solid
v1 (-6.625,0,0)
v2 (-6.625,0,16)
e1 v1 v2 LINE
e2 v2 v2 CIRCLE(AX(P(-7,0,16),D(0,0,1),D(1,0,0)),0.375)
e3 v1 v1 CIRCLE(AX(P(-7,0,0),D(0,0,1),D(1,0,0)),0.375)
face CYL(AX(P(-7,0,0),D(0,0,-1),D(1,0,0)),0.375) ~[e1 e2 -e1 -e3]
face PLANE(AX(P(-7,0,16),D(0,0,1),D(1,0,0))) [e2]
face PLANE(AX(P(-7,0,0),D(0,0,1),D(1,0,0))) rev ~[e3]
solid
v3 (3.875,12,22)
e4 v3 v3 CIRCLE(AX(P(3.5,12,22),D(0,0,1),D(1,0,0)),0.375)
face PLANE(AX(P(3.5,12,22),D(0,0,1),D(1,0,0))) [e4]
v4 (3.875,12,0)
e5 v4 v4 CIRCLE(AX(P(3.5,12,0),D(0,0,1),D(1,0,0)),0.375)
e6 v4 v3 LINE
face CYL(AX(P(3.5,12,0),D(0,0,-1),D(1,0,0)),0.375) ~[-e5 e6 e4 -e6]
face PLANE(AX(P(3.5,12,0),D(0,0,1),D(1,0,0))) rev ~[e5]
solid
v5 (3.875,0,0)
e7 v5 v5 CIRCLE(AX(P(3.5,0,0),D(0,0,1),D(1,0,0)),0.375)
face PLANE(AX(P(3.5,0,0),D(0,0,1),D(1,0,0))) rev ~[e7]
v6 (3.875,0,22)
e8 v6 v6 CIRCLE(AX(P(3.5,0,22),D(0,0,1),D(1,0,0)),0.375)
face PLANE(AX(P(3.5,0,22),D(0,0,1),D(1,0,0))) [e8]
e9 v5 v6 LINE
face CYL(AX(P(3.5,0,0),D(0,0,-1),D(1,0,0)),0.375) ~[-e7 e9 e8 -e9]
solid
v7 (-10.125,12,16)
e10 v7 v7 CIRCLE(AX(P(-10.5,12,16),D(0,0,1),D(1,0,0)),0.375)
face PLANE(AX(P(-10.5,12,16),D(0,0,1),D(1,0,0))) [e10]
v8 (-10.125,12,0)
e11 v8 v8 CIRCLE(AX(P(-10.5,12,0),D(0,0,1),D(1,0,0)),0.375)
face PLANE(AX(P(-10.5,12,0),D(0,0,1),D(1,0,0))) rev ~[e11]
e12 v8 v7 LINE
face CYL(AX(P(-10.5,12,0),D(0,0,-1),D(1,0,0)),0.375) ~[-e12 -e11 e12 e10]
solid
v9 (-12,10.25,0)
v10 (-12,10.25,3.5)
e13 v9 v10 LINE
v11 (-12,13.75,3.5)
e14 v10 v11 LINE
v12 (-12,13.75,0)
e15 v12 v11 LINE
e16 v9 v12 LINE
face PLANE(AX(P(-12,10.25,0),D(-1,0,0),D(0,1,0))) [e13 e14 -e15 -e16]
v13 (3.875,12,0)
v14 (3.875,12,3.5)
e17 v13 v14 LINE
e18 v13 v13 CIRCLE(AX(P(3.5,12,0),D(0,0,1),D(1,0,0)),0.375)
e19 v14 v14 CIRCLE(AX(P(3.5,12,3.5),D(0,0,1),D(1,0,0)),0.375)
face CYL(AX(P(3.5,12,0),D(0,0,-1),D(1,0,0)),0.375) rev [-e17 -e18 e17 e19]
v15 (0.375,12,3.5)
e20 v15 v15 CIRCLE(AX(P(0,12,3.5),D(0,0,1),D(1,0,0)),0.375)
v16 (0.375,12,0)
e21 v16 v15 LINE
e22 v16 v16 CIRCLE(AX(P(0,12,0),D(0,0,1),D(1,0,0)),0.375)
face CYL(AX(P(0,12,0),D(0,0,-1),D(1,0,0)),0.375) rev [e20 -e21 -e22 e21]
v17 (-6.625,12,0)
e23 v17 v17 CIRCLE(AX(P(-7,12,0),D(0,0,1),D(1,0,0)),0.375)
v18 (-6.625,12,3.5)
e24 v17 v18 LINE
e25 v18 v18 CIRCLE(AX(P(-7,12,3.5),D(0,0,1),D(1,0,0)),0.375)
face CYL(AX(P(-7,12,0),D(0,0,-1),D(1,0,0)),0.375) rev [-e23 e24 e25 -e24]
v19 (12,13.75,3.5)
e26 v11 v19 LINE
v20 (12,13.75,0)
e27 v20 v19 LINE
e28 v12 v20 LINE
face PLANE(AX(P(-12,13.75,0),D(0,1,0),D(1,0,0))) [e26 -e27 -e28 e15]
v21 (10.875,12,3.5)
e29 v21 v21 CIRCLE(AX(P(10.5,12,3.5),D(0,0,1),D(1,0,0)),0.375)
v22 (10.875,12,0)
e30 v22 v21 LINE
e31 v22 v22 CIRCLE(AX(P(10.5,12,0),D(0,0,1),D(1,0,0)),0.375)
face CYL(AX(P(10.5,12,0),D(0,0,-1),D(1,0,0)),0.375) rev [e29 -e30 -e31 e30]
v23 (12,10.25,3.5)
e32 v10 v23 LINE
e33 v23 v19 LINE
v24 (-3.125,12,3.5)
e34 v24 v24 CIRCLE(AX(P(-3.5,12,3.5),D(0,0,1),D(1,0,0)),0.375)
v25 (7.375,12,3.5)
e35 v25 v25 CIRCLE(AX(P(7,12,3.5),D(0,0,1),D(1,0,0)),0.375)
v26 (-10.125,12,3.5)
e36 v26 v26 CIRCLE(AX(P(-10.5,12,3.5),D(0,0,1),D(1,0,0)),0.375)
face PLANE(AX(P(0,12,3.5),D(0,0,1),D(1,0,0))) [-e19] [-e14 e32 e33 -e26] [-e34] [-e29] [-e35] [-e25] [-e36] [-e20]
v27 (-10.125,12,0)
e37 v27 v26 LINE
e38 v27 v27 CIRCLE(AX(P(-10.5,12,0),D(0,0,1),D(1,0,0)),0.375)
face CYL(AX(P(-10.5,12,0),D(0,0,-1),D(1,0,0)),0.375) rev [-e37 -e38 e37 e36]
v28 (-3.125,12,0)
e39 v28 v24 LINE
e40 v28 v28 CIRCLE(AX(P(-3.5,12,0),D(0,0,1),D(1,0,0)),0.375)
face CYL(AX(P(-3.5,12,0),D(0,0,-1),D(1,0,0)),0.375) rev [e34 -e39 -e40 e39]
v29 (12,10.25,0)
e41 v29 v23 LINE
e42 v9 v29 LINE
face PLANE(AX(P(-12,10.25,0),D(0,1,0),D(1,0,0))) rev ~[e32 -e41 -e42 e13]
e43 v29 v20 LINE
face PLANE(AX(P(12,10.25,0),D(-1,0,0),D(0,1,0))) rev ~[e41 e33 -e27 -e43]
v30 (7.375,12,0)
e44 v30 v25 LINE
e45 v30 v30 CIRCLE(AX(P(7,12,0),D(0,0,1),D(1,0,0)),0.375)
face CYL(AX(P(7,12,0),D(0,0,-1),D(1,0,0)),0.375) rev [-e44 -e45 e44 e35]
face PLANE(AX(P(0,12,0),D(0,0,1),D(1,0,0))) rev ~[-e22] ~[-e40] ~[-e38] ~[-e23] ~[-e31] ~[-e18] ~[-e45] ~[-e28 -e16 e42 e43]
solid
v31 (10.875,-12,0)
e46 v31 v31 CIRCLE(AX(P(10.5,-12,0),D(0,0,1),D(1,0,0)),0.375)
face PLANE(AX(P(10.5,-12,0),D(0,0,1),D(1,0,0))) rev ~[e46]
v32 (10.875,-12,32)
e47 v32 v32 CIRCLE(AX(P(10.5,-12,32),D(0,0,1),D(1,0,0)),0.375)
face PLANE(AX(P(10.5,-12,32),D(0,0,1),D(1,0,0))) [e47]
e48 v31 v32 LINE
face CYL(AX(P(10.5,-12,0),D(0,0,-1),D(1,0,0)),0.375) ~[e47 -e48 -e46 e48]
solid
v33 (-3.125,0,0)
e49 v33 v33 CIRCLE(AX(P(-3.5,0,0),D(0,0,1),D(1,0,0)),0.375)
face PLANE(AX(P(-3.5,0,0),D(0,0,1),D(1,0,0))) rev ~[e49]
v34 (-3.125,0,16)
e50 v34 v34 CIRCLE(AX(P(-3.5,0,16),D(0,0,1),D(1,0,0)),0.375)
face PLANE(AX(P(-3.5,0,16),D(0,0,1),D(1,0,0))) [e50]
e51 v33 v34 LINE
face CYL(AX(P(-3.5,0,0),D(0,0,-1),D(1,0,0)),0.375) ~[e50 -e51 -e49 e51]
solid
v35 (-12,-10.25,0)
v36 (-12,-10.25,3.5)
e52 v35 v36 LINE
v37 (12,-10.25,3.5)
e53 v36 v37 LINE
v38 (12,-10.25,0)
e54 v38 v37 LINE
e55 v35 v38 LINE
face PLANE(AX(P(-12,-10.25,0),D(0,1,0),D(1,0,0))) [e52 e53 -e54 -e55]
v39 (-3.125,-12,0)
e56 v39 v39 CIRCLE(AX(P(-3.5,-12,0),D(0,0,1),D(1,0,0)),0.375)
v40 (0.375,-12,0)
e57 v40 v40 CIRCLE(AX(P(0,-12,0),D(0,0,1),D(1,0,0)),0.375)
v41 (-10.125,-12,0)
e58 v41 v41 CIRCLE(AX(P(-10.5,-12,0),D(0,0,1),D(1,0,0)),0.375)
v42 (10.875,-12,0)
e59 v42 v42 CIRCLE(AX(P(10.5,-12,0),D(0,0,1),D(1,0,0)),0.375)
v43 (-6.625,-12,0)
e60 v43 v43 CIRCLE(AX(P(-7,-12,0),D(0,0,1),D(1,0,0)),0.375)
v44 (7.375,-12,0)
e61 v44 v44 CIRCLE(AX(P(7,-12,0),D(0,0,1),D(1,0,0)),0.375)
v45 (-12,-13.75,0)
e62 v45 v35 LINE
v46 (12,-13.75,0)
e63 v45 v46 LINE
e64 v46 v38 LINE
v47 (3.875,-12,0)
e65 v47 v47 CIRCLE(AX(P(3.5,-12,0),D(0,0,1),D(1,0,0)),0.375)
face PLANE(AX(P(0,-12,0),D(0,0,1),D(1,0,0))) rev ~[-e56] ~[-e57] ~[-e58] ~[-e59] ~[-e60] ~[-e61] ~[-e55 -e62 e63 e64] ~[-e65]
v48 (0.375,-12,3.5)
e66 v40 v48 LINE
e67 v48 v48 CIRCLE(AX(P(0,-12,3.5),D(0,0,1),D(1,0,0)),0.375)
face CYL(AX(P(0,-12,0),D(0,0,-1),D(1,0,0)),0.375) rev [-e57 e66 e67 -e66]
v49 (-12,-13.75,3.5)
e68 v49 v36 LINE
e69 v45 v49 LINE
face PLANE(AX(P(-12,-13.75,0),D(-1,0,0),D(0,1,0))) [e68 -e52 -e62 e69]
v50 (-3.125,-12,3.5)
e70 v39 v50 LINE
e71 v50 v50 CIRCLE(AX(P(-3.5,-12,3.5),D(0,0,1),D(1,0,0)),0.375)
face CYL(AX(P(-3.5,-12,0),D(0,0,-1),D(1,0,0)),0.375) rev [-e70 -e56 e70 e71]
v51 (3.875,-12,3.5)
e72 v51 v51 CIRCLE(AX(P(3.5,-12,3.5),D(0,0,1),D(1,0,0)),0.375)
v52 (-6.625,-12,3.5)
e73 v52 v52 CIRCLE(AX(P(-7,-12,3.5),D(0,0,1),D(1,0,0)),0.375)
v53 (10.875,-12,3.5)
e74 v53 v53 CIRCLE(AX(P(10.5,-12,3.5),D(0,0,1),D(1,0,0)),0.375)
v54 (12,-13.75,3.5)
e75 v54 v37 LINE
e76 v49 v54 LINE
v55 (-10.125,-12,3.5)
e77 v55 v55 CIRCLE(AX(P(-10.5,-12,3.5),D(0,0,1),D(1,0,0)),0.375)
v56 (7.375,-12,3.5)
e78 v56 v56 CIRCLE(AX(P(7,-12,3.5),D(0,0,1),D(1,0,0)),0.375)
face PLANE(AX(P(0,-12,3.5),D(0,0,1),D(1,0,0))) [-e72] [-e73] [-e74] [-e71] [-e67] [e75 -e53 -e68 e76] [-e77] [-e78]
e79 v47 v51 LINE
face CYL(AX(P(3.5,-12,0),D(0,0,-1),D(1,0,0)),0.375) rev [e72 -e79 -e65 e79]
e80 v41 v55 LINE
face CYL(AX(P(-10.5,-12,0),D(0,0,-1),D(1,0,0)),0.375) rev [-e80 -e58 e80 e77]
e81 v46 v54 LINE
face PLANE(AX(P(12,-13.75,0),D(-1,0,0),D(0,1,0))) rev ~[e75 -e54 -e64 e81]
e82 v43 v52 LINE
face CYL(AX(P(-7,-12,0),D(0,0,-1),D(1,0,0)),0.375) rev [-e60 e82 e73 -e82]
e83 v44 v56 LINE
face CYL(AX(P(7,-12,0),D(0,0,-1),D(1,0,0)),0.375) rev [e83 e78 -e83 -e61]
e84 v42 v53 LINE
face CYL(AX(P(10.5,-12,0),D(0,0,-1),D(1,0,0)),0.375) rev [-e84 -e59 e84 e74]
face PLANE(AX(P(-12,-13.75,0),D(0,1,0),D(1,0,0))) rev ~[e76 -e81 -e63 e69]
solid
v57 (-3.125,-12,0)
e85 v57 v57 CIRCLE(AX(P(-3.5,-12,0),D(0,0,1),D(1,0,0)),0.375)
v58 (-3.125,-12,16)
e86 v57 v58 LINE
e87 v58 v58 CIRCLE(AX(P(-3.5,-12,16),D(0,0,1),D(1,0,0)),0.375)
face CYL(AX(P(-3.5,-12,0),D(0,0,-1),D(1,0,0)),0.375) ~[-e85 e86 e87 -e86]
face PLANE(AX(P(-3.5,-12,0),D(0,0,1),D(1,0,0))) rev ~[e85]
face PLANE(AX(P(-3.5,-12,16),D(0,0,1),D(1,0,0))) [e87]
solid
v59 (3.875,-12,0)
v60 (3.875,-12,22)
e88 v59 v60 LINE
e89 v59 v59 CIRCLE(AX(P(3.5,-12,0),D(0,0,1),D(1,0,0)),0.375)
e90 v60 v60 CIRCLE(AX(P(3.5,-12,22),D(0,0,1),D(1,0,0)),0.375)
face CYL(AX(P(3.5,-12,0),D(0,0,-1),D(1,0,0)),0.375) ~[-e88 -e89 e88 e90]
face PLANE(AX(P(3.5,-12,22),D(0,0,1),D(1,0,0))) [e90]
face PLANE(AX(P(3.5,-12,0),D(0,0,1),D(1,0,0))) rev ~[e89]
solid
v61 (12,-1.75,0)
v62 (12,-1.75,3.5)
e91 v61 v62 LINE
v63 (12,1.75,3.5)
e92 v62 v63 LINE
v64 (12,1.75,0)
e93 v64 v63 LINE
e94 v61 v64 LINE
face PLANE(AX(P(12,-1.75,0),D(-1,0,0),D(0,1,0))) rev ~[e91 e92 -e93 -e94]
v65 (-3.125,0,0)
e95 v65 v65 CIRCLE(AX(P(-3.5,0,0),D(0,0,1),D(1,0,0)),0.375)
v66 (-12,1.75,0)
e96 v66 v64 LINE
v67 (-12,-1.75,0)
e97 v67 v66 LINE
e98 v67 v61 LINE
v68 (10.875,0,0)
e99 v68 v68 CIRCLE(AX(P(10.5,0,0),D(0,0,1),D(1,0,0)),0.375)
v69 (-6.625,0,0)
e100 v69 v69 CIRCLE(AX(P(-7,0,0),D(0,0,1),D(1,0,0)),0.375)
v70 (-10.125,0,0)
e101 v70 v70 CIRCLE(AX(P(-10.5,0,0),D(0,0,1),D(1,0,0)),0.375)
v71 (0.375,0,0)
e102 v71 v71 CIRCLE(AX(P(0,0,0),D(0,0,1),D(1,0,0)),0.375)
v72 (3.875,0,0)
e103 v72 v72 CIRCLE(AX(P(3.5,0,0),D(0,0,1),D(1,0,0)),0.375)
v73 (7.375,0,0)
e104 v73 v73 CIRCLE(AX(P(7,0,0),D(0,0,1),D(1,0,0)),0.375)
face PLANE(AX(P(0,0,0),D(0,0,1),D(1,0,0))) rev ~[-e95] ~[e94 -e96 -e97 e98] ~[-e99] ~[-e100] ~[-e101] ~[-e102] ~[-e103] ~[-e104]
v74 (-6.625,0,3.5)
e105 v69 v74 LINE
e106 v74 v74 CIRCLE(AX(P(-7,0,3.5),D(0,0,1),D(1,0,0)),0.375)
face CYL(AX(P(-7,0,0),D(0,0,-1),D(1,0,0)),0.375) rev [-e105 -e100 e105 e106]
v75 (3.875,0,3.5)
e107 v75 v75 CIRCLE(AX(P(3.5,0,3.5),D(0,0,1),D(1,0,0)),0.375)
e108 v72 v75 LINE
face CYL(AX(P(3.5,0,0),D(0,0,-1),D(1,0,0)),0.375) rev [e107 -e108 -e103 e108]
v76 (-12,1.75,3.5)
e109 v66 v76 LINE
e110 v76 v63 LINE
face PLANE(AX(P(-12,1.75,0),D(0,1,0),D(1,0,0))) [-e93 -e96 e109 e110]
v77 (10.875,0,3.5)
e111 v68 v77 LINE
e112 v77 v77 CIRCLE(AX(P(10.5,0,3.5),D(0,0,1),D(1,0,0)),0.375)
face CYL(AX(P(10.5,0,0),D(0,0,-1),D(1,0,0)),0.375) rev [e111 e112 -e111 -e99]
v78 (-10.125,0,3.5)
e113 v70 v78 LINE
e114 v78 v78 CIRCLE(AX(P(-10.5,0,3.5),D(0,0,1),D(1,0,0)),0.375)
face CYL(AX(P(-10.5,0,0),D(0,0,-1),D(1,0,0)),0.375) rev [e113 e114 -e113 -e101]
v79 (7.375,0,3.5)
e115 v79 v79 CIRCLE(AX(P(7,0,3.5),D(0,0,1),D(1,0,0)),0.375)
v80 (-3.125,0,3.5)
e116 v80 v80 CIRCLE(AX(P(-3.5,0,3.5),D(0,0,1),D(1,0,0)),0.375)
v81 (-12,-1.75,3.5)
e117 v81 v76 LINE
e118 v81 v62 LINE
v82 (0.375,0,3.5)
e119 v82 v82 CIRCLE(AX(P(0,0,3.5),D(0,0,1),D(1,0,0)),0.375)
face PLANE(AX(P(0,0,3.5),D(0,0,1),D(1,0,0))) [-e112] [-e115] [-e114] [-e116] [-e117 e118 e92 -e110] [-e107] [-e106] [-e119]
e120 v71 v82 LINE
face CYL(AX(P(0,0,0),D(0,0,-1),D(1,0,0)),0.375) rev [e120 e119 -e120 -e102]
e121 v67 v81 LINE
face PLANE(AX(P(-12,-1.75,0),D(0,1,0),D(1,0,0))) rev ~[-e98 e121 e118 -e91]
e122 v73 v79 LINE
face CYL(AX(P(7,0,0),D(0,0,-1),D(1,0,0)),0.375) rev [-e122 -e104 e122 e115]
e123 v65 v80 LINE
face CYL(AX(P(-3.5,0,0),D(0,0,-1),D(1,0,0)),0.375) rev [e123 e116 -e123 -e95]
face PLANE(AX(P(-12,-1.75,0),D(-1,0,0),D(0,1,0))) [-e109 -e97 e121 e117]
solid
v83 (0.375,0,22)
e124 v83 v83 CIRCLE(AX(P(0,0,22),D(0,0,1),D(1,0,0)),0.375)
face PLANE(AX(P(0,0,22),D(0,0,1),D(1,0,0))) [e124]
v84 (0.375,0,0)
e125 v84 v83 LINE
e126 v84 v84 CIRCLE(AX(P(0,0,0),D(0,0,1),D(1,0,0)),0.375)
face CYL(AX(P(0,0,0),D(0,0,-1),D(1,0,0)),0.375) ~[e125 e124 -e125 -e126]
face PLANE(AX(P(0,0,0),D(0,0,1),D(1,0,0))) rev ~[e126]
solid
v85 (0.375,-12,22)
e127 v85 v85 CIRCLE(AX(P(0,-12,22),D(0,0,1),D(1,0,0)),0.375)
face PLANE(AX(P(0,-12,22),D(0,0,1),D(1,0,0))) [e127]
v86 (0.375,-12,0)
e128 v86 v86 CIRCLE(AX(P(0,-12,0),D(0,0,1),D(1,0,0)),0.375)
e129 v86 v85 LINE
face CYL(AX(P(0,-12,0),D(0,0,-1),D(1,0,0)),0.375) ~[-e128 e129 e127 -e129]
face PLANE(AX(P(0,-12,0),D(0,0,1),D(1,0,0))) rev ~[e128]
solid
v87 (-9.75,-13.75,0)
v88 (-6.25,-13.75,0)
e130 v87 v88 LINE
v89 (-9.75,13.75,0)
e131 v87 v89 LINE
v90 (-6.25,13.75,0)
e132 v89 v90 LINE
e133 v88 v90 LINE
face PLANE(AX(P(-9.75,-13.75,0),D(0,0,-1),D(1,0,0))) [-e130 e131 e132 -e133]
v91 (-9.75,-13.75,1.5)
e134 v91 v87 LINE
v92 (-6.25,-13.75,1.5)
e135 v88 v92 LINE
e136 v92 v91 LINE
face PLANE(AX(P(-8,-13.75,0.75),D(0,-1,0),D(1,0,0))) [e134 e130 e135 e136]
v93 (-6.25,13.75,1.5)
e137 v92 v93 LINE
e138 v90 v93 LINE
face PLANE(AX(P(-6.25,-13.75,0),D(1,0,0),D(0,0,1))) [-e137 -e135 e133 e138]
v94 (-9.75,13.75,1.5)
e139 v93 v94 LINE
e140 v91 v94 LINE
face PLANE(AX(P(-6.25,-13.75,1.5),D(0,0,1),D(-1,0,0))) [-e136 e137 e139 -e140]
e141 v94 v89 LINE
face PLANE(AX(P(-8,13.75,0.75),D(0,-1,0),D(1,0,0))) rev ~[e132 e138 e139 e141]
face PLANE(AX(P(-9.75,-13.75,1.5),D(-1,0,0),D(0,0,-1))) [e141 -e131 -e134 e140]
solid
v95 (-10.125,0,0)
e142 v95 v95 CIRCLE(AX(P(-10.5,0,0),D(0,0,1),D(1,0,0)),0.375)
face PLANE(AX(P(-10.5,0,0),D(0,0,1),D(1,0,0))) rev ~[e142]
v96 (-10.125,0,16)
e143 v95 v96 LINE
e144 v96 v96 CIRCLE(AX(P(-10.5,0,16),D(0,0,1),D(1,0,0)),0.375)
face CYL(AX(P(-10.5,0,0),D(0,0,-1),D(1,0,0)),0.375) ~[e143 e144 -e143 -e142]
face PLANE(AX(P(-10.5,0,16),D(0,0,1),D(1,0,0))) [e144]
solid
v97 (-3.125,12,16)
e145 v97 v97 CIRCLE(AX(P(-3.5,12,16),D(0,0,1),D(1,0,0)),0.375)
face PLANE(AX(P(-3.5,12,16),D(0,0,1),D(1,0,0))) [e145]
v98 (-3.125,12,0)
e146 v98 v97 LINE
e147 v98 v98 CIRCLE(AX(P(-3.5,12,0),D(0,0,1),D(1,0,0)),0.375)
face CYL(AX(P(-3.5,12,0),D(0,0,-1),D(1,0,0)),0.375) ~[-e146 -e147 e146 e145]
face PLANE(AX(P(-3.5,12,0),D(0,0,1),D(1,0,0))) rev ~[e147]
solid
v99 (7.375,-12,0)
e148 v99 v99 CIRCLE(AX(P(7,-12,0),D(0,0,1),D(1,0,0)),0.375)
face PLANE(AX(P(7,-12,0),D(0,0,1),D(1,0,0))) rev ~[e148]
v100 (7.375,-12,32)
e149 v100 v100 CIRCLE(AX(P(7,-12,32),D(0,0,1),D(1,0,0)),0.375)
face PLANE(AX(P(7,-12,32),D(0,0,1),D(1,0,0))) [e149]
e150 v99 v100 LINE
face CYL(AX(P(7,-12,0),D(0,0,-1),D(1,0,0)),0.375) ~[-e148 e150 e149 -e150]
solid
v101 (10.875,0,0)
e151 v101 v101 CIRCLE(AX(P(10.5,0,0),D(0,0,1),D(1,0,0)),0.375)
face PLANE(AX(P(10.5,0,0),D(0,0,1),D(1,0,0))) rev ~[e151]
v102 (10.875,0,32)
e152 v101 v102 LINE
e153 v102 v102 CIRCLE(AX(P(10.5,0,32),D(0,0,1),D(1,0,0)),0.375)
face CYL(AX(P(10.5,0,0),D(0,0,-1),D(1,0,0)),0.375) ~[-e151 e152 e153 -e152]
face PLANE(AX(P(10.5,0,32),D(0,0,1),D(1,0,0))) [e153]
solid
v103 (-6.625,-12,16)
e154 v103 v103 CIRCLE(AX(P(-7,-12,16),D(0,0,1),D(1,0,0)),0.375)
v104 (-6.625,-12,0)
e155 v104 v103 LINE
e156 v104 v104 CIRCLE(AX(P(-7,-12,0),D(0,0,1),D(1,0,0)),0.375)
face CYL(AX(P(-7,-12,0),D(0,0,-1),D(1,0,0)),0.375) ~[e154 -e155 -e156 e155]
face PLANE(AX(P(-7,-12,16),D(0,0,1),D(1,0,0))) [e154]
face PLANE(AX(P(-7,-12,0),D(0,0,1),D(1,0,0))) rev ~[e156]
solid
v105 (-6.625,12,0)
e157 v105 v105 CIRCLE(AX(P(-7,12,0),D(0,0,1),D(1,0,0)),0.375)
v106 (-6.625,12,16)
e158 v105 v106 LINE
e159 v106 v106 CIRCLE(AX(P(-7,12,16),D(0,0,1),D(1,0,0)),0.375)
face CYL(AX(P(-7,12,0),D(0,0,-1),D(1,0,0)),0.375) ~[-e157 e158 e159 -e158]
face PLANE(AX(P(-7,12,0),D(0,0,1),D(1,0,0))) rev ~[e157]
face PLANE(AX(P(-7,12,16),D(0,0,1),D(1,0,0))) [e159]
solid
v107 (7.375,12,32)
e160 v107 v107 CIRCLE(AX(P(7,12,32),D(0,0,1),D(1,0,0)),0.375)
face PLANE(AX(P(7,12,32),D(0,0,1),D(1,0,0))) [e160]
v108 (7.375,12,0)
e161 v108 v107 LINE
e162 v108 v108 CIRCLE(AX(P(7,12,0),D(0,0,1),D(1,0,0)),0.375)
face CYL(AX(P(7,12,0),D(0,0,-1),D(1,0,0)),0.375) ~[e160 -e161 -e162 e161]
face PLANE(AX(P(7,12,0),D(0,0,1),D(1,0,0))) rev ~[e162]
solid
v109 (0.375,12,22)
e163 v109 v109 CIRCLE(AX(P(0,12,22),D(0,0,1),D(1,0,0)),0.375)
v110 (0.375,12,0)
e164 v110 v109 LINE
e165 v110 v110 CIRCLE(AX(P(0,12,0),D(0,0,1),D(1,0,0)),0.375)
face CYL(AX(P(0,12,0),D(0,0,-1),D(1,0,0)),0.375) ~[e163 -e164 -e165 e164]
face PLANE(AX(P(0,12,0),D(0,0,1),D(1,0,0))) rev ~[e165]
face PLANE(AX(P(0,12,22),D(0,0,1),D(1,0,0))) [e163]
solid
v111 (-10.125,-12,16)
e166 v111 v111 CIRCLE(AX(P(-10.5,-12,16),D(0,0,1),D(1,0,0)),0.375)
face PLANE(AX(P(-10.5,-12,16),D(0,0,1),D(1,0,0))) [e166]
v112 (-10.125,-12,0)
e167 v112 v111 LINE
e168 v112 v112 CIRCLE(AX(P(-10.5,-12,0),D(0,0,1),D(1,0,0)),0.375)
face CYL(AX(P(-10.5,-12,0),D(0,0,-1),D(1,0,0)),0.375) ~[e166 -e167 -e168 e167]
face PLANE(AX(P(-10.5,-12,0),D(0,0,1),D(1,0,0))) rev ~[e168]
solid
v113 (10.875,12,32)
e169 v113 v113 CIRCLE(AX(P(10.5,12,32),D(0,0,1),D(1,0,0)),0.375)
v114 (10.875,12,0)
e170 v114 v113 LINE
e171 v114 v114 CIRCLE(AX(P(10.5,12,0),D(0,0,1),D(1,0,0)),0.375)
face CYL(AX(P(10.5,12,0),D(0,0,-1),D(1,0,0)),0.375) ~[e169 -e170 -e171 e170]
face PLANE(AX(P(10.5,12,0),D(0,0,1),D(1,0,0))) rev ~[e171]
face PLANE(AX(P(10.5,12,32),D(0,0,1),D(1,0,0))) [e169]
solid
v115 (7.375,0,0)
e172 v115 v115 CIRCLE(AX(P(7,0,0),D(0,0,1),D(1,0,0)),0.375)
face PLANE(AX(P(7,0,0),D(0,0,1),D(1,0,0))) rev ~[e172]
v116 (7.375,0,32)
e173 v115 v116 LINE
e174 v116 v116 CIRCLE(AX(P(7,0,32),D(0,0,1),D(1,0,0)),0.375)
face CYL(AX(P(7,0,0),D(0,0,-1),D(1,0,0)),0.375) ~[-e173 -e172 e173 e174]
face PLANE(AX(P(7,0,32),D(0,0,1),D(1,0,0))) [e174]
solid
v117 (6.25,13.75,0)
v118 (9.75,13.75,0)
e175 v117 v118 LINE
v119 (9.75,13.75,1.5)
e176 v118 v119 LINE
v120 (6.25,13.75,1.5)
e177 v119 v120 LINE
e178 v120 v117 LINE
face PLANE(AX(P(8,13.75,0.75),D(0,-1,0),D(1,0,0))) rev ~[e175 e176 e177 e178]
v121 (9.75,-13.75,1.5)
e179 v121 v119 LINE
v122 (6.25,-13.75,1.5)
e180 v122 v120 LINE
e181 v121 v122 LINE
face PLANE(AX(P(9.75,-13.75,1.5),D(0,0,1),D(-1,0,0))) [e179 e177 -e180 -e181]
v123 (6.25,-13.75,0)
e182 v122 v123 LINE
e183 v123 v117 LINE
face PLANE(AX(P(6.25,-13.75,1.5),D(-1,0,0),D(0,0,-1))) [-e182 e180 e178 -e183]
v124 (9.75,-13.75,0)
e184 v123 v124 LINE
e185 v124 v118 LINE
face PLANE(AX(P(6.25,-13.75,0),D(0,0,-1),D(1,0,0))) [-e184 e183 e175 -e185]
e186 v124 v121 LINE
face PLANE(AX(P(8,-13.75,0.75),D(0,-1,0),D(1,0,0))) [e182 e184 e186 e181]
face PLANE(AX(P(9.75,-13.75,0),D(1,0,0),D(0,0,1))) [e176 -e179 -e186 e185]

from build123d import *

# Parameters (mm, degrees)
F0_W     = 24
F0_H     = 3.5
F0_R     = 0.375
F1_DEPTH = 3.5
F2_DEPTH = 16
F3_DEPTH = 22
F4_DEPTH = 32
F6_DEPTH = 27.5


with BuildPart() as f1:
    # F0 (on Top) → F1 (new body)
    with BuildSketch(Plane.XY):
        with Locations((0, 12)):
            Rectangle(F0_W, F0_H)
        with Locations((-10.5, 12)):
            Circle(F0_R, mode=Mode.SUBTRACT)
        with Locations((-7, 12)):
            Circle(F0_R, mode=Mode.SUBTRACT)
        with Locations((-3.5, 12)):
            Circle(F0_R, mode=Mode.SUBTRACT)
        with Locations((0, 12)):
            Circle(F0_R, mode=Mode.SUBTRACT)
        with Locations((3.5, 12)):
            Circle(F0_R, mode=Mode.SUBTRACT)
        with Locations((7, 12)):
            Circle(F0_R, mode=Mode.SUBTRACT)
        with Locations((10.5, 12)):
            Circle(F0_R, mode=Mode.SUBTRACT)
        Rectangle(F0_W, F0_H)
        with Locations((-10.5, 0)):
            Circle(F0_R, mode=Mode.SUBTRACT)
        with Locations((-7, 0)):
            Circle(F0_R, mode=Mode.SUBTRACT)
        with Locations((-3.5, 0)):
            Circle(F0_R, mode=Mode.SUBTRACT)
        Circle(F0_R, mode=Mode.SUBTRACT)
        with Locations((3.5, 0)):
            Circle(F0_R, mode=Mode.SUBTRACT)
        with Locations((7, 0)):
            Circle(F0_R, mode=Mode.SUBTRACT)
        with Locations((10.5, 0)):
            Circle(F0_R, mode=Mode.SUBTRACT)
        with Locations((0, -12)):
            Rectangle(F0_W, F0_H)
        with Locations((-10.5, -12)):
            Circle(F0_R, mode=Mode.SUBTRACT)
        with Locations((-7, -12)):
            Circle(F0_R, mode=Mode.SUBTRACT)
        with Locations((-3.5, -12)):
            Circle(F0_R, mode=Mode.SUBTRACT)
        with Locations((0, -12)):
            Circle(F0_R, mode=Mode.SUBTRACT)
        with Locations((3.5, -12)):
            Circle(F0_R, mode=Mode.SUBTRACT)
        with Locations((7, -12)):
            Circle(F0_R, mode=Mode.SUBTRACT)
        with Locations((10.5, -12)):
            Circle(F0_R, mode=Mode.SUBTRACT)
    extrude(amount=F1_DEPTH)


with BuildPart() as f2:
    # F0 (on Top) → F2 (new body)
    with BuildSketch(Plane.XY):
        with Locations((-10.5, 12)):
            Circle(F0_R)
        with Locations((-7, 12)):
            Circle(F0_R)
        with Locations((-3.5, 12)):
            Circle(F0_R)
        with Locations((-10.5, 0)):
            Circle(F0_R)
        with Locations((-7, 0)):
            Circle(F0_R)
        with Locations((-3.5, 0)):
            Circle(F0_R)
        with Locations((-3.5, -12)):
            Circle(F0_R)
        with Locations((-7, -12)):
            Circle(F0_R)
        with Locations((-10.5, -12)):
            Circle(F0_R)
    extrude(amount=F2_DEPTH)


with BuildPart() as f3:
    # F0 (on Top) → F3 (new body)
    with BuildSketch(Plane.XY):
        with Locations((0, 12)):
            Circle(F0_R)
        with Locations((3.5, 12)):
            Circle(F0_R)
        Circle(F0_R)
        with Locations((3.5, 0)):
            Circle(F0_R)
        with Locations((0, -12)):
            Circle(F0_R)
        with Locations((3.5, -12)):
            Circle(F0_R)
    extrude(amount=F3_DEPTH)


with BuildPart() as f4:
    # F0 (on Top) → F4 (new body)
    with BuildSketch(Plane.XY):
        with Locations((7, 12)):
            Circle(F0_R)
        with Locations((10.5, 12)):
            Circle(F0_R)
        with Locations((7, 0)):
            Circle(F0_R)
        with Locations((10.5, 0)):
            Circle(F0_R)
        with Locations((7, -12)):
            Circle(F0_R)
        with Locations((10.5, -12)):
            Circle(F0_R)
    extrude(amount=F4_DEPTH)


with BuildPart() as f6:
    # F5 (on face) → F6 (new body)
    with BuildSketch(Plane.XZ.offset(13.75)):
        Polygon((-8, 0), (-6.25, 0), (-6.25, 1.5), (-9.75, 1.5), (-9.75, 0), align=None)
        Polygon((6.25, 1.5), (6.25, 0), (8, 0), (9.75, 0), (9.75, 1.5), align=None)
    extrude(amount=-F6_DEPTH)


solid = Compound([f1.part, f2.part, f3.part, f4.part, f6.part])
